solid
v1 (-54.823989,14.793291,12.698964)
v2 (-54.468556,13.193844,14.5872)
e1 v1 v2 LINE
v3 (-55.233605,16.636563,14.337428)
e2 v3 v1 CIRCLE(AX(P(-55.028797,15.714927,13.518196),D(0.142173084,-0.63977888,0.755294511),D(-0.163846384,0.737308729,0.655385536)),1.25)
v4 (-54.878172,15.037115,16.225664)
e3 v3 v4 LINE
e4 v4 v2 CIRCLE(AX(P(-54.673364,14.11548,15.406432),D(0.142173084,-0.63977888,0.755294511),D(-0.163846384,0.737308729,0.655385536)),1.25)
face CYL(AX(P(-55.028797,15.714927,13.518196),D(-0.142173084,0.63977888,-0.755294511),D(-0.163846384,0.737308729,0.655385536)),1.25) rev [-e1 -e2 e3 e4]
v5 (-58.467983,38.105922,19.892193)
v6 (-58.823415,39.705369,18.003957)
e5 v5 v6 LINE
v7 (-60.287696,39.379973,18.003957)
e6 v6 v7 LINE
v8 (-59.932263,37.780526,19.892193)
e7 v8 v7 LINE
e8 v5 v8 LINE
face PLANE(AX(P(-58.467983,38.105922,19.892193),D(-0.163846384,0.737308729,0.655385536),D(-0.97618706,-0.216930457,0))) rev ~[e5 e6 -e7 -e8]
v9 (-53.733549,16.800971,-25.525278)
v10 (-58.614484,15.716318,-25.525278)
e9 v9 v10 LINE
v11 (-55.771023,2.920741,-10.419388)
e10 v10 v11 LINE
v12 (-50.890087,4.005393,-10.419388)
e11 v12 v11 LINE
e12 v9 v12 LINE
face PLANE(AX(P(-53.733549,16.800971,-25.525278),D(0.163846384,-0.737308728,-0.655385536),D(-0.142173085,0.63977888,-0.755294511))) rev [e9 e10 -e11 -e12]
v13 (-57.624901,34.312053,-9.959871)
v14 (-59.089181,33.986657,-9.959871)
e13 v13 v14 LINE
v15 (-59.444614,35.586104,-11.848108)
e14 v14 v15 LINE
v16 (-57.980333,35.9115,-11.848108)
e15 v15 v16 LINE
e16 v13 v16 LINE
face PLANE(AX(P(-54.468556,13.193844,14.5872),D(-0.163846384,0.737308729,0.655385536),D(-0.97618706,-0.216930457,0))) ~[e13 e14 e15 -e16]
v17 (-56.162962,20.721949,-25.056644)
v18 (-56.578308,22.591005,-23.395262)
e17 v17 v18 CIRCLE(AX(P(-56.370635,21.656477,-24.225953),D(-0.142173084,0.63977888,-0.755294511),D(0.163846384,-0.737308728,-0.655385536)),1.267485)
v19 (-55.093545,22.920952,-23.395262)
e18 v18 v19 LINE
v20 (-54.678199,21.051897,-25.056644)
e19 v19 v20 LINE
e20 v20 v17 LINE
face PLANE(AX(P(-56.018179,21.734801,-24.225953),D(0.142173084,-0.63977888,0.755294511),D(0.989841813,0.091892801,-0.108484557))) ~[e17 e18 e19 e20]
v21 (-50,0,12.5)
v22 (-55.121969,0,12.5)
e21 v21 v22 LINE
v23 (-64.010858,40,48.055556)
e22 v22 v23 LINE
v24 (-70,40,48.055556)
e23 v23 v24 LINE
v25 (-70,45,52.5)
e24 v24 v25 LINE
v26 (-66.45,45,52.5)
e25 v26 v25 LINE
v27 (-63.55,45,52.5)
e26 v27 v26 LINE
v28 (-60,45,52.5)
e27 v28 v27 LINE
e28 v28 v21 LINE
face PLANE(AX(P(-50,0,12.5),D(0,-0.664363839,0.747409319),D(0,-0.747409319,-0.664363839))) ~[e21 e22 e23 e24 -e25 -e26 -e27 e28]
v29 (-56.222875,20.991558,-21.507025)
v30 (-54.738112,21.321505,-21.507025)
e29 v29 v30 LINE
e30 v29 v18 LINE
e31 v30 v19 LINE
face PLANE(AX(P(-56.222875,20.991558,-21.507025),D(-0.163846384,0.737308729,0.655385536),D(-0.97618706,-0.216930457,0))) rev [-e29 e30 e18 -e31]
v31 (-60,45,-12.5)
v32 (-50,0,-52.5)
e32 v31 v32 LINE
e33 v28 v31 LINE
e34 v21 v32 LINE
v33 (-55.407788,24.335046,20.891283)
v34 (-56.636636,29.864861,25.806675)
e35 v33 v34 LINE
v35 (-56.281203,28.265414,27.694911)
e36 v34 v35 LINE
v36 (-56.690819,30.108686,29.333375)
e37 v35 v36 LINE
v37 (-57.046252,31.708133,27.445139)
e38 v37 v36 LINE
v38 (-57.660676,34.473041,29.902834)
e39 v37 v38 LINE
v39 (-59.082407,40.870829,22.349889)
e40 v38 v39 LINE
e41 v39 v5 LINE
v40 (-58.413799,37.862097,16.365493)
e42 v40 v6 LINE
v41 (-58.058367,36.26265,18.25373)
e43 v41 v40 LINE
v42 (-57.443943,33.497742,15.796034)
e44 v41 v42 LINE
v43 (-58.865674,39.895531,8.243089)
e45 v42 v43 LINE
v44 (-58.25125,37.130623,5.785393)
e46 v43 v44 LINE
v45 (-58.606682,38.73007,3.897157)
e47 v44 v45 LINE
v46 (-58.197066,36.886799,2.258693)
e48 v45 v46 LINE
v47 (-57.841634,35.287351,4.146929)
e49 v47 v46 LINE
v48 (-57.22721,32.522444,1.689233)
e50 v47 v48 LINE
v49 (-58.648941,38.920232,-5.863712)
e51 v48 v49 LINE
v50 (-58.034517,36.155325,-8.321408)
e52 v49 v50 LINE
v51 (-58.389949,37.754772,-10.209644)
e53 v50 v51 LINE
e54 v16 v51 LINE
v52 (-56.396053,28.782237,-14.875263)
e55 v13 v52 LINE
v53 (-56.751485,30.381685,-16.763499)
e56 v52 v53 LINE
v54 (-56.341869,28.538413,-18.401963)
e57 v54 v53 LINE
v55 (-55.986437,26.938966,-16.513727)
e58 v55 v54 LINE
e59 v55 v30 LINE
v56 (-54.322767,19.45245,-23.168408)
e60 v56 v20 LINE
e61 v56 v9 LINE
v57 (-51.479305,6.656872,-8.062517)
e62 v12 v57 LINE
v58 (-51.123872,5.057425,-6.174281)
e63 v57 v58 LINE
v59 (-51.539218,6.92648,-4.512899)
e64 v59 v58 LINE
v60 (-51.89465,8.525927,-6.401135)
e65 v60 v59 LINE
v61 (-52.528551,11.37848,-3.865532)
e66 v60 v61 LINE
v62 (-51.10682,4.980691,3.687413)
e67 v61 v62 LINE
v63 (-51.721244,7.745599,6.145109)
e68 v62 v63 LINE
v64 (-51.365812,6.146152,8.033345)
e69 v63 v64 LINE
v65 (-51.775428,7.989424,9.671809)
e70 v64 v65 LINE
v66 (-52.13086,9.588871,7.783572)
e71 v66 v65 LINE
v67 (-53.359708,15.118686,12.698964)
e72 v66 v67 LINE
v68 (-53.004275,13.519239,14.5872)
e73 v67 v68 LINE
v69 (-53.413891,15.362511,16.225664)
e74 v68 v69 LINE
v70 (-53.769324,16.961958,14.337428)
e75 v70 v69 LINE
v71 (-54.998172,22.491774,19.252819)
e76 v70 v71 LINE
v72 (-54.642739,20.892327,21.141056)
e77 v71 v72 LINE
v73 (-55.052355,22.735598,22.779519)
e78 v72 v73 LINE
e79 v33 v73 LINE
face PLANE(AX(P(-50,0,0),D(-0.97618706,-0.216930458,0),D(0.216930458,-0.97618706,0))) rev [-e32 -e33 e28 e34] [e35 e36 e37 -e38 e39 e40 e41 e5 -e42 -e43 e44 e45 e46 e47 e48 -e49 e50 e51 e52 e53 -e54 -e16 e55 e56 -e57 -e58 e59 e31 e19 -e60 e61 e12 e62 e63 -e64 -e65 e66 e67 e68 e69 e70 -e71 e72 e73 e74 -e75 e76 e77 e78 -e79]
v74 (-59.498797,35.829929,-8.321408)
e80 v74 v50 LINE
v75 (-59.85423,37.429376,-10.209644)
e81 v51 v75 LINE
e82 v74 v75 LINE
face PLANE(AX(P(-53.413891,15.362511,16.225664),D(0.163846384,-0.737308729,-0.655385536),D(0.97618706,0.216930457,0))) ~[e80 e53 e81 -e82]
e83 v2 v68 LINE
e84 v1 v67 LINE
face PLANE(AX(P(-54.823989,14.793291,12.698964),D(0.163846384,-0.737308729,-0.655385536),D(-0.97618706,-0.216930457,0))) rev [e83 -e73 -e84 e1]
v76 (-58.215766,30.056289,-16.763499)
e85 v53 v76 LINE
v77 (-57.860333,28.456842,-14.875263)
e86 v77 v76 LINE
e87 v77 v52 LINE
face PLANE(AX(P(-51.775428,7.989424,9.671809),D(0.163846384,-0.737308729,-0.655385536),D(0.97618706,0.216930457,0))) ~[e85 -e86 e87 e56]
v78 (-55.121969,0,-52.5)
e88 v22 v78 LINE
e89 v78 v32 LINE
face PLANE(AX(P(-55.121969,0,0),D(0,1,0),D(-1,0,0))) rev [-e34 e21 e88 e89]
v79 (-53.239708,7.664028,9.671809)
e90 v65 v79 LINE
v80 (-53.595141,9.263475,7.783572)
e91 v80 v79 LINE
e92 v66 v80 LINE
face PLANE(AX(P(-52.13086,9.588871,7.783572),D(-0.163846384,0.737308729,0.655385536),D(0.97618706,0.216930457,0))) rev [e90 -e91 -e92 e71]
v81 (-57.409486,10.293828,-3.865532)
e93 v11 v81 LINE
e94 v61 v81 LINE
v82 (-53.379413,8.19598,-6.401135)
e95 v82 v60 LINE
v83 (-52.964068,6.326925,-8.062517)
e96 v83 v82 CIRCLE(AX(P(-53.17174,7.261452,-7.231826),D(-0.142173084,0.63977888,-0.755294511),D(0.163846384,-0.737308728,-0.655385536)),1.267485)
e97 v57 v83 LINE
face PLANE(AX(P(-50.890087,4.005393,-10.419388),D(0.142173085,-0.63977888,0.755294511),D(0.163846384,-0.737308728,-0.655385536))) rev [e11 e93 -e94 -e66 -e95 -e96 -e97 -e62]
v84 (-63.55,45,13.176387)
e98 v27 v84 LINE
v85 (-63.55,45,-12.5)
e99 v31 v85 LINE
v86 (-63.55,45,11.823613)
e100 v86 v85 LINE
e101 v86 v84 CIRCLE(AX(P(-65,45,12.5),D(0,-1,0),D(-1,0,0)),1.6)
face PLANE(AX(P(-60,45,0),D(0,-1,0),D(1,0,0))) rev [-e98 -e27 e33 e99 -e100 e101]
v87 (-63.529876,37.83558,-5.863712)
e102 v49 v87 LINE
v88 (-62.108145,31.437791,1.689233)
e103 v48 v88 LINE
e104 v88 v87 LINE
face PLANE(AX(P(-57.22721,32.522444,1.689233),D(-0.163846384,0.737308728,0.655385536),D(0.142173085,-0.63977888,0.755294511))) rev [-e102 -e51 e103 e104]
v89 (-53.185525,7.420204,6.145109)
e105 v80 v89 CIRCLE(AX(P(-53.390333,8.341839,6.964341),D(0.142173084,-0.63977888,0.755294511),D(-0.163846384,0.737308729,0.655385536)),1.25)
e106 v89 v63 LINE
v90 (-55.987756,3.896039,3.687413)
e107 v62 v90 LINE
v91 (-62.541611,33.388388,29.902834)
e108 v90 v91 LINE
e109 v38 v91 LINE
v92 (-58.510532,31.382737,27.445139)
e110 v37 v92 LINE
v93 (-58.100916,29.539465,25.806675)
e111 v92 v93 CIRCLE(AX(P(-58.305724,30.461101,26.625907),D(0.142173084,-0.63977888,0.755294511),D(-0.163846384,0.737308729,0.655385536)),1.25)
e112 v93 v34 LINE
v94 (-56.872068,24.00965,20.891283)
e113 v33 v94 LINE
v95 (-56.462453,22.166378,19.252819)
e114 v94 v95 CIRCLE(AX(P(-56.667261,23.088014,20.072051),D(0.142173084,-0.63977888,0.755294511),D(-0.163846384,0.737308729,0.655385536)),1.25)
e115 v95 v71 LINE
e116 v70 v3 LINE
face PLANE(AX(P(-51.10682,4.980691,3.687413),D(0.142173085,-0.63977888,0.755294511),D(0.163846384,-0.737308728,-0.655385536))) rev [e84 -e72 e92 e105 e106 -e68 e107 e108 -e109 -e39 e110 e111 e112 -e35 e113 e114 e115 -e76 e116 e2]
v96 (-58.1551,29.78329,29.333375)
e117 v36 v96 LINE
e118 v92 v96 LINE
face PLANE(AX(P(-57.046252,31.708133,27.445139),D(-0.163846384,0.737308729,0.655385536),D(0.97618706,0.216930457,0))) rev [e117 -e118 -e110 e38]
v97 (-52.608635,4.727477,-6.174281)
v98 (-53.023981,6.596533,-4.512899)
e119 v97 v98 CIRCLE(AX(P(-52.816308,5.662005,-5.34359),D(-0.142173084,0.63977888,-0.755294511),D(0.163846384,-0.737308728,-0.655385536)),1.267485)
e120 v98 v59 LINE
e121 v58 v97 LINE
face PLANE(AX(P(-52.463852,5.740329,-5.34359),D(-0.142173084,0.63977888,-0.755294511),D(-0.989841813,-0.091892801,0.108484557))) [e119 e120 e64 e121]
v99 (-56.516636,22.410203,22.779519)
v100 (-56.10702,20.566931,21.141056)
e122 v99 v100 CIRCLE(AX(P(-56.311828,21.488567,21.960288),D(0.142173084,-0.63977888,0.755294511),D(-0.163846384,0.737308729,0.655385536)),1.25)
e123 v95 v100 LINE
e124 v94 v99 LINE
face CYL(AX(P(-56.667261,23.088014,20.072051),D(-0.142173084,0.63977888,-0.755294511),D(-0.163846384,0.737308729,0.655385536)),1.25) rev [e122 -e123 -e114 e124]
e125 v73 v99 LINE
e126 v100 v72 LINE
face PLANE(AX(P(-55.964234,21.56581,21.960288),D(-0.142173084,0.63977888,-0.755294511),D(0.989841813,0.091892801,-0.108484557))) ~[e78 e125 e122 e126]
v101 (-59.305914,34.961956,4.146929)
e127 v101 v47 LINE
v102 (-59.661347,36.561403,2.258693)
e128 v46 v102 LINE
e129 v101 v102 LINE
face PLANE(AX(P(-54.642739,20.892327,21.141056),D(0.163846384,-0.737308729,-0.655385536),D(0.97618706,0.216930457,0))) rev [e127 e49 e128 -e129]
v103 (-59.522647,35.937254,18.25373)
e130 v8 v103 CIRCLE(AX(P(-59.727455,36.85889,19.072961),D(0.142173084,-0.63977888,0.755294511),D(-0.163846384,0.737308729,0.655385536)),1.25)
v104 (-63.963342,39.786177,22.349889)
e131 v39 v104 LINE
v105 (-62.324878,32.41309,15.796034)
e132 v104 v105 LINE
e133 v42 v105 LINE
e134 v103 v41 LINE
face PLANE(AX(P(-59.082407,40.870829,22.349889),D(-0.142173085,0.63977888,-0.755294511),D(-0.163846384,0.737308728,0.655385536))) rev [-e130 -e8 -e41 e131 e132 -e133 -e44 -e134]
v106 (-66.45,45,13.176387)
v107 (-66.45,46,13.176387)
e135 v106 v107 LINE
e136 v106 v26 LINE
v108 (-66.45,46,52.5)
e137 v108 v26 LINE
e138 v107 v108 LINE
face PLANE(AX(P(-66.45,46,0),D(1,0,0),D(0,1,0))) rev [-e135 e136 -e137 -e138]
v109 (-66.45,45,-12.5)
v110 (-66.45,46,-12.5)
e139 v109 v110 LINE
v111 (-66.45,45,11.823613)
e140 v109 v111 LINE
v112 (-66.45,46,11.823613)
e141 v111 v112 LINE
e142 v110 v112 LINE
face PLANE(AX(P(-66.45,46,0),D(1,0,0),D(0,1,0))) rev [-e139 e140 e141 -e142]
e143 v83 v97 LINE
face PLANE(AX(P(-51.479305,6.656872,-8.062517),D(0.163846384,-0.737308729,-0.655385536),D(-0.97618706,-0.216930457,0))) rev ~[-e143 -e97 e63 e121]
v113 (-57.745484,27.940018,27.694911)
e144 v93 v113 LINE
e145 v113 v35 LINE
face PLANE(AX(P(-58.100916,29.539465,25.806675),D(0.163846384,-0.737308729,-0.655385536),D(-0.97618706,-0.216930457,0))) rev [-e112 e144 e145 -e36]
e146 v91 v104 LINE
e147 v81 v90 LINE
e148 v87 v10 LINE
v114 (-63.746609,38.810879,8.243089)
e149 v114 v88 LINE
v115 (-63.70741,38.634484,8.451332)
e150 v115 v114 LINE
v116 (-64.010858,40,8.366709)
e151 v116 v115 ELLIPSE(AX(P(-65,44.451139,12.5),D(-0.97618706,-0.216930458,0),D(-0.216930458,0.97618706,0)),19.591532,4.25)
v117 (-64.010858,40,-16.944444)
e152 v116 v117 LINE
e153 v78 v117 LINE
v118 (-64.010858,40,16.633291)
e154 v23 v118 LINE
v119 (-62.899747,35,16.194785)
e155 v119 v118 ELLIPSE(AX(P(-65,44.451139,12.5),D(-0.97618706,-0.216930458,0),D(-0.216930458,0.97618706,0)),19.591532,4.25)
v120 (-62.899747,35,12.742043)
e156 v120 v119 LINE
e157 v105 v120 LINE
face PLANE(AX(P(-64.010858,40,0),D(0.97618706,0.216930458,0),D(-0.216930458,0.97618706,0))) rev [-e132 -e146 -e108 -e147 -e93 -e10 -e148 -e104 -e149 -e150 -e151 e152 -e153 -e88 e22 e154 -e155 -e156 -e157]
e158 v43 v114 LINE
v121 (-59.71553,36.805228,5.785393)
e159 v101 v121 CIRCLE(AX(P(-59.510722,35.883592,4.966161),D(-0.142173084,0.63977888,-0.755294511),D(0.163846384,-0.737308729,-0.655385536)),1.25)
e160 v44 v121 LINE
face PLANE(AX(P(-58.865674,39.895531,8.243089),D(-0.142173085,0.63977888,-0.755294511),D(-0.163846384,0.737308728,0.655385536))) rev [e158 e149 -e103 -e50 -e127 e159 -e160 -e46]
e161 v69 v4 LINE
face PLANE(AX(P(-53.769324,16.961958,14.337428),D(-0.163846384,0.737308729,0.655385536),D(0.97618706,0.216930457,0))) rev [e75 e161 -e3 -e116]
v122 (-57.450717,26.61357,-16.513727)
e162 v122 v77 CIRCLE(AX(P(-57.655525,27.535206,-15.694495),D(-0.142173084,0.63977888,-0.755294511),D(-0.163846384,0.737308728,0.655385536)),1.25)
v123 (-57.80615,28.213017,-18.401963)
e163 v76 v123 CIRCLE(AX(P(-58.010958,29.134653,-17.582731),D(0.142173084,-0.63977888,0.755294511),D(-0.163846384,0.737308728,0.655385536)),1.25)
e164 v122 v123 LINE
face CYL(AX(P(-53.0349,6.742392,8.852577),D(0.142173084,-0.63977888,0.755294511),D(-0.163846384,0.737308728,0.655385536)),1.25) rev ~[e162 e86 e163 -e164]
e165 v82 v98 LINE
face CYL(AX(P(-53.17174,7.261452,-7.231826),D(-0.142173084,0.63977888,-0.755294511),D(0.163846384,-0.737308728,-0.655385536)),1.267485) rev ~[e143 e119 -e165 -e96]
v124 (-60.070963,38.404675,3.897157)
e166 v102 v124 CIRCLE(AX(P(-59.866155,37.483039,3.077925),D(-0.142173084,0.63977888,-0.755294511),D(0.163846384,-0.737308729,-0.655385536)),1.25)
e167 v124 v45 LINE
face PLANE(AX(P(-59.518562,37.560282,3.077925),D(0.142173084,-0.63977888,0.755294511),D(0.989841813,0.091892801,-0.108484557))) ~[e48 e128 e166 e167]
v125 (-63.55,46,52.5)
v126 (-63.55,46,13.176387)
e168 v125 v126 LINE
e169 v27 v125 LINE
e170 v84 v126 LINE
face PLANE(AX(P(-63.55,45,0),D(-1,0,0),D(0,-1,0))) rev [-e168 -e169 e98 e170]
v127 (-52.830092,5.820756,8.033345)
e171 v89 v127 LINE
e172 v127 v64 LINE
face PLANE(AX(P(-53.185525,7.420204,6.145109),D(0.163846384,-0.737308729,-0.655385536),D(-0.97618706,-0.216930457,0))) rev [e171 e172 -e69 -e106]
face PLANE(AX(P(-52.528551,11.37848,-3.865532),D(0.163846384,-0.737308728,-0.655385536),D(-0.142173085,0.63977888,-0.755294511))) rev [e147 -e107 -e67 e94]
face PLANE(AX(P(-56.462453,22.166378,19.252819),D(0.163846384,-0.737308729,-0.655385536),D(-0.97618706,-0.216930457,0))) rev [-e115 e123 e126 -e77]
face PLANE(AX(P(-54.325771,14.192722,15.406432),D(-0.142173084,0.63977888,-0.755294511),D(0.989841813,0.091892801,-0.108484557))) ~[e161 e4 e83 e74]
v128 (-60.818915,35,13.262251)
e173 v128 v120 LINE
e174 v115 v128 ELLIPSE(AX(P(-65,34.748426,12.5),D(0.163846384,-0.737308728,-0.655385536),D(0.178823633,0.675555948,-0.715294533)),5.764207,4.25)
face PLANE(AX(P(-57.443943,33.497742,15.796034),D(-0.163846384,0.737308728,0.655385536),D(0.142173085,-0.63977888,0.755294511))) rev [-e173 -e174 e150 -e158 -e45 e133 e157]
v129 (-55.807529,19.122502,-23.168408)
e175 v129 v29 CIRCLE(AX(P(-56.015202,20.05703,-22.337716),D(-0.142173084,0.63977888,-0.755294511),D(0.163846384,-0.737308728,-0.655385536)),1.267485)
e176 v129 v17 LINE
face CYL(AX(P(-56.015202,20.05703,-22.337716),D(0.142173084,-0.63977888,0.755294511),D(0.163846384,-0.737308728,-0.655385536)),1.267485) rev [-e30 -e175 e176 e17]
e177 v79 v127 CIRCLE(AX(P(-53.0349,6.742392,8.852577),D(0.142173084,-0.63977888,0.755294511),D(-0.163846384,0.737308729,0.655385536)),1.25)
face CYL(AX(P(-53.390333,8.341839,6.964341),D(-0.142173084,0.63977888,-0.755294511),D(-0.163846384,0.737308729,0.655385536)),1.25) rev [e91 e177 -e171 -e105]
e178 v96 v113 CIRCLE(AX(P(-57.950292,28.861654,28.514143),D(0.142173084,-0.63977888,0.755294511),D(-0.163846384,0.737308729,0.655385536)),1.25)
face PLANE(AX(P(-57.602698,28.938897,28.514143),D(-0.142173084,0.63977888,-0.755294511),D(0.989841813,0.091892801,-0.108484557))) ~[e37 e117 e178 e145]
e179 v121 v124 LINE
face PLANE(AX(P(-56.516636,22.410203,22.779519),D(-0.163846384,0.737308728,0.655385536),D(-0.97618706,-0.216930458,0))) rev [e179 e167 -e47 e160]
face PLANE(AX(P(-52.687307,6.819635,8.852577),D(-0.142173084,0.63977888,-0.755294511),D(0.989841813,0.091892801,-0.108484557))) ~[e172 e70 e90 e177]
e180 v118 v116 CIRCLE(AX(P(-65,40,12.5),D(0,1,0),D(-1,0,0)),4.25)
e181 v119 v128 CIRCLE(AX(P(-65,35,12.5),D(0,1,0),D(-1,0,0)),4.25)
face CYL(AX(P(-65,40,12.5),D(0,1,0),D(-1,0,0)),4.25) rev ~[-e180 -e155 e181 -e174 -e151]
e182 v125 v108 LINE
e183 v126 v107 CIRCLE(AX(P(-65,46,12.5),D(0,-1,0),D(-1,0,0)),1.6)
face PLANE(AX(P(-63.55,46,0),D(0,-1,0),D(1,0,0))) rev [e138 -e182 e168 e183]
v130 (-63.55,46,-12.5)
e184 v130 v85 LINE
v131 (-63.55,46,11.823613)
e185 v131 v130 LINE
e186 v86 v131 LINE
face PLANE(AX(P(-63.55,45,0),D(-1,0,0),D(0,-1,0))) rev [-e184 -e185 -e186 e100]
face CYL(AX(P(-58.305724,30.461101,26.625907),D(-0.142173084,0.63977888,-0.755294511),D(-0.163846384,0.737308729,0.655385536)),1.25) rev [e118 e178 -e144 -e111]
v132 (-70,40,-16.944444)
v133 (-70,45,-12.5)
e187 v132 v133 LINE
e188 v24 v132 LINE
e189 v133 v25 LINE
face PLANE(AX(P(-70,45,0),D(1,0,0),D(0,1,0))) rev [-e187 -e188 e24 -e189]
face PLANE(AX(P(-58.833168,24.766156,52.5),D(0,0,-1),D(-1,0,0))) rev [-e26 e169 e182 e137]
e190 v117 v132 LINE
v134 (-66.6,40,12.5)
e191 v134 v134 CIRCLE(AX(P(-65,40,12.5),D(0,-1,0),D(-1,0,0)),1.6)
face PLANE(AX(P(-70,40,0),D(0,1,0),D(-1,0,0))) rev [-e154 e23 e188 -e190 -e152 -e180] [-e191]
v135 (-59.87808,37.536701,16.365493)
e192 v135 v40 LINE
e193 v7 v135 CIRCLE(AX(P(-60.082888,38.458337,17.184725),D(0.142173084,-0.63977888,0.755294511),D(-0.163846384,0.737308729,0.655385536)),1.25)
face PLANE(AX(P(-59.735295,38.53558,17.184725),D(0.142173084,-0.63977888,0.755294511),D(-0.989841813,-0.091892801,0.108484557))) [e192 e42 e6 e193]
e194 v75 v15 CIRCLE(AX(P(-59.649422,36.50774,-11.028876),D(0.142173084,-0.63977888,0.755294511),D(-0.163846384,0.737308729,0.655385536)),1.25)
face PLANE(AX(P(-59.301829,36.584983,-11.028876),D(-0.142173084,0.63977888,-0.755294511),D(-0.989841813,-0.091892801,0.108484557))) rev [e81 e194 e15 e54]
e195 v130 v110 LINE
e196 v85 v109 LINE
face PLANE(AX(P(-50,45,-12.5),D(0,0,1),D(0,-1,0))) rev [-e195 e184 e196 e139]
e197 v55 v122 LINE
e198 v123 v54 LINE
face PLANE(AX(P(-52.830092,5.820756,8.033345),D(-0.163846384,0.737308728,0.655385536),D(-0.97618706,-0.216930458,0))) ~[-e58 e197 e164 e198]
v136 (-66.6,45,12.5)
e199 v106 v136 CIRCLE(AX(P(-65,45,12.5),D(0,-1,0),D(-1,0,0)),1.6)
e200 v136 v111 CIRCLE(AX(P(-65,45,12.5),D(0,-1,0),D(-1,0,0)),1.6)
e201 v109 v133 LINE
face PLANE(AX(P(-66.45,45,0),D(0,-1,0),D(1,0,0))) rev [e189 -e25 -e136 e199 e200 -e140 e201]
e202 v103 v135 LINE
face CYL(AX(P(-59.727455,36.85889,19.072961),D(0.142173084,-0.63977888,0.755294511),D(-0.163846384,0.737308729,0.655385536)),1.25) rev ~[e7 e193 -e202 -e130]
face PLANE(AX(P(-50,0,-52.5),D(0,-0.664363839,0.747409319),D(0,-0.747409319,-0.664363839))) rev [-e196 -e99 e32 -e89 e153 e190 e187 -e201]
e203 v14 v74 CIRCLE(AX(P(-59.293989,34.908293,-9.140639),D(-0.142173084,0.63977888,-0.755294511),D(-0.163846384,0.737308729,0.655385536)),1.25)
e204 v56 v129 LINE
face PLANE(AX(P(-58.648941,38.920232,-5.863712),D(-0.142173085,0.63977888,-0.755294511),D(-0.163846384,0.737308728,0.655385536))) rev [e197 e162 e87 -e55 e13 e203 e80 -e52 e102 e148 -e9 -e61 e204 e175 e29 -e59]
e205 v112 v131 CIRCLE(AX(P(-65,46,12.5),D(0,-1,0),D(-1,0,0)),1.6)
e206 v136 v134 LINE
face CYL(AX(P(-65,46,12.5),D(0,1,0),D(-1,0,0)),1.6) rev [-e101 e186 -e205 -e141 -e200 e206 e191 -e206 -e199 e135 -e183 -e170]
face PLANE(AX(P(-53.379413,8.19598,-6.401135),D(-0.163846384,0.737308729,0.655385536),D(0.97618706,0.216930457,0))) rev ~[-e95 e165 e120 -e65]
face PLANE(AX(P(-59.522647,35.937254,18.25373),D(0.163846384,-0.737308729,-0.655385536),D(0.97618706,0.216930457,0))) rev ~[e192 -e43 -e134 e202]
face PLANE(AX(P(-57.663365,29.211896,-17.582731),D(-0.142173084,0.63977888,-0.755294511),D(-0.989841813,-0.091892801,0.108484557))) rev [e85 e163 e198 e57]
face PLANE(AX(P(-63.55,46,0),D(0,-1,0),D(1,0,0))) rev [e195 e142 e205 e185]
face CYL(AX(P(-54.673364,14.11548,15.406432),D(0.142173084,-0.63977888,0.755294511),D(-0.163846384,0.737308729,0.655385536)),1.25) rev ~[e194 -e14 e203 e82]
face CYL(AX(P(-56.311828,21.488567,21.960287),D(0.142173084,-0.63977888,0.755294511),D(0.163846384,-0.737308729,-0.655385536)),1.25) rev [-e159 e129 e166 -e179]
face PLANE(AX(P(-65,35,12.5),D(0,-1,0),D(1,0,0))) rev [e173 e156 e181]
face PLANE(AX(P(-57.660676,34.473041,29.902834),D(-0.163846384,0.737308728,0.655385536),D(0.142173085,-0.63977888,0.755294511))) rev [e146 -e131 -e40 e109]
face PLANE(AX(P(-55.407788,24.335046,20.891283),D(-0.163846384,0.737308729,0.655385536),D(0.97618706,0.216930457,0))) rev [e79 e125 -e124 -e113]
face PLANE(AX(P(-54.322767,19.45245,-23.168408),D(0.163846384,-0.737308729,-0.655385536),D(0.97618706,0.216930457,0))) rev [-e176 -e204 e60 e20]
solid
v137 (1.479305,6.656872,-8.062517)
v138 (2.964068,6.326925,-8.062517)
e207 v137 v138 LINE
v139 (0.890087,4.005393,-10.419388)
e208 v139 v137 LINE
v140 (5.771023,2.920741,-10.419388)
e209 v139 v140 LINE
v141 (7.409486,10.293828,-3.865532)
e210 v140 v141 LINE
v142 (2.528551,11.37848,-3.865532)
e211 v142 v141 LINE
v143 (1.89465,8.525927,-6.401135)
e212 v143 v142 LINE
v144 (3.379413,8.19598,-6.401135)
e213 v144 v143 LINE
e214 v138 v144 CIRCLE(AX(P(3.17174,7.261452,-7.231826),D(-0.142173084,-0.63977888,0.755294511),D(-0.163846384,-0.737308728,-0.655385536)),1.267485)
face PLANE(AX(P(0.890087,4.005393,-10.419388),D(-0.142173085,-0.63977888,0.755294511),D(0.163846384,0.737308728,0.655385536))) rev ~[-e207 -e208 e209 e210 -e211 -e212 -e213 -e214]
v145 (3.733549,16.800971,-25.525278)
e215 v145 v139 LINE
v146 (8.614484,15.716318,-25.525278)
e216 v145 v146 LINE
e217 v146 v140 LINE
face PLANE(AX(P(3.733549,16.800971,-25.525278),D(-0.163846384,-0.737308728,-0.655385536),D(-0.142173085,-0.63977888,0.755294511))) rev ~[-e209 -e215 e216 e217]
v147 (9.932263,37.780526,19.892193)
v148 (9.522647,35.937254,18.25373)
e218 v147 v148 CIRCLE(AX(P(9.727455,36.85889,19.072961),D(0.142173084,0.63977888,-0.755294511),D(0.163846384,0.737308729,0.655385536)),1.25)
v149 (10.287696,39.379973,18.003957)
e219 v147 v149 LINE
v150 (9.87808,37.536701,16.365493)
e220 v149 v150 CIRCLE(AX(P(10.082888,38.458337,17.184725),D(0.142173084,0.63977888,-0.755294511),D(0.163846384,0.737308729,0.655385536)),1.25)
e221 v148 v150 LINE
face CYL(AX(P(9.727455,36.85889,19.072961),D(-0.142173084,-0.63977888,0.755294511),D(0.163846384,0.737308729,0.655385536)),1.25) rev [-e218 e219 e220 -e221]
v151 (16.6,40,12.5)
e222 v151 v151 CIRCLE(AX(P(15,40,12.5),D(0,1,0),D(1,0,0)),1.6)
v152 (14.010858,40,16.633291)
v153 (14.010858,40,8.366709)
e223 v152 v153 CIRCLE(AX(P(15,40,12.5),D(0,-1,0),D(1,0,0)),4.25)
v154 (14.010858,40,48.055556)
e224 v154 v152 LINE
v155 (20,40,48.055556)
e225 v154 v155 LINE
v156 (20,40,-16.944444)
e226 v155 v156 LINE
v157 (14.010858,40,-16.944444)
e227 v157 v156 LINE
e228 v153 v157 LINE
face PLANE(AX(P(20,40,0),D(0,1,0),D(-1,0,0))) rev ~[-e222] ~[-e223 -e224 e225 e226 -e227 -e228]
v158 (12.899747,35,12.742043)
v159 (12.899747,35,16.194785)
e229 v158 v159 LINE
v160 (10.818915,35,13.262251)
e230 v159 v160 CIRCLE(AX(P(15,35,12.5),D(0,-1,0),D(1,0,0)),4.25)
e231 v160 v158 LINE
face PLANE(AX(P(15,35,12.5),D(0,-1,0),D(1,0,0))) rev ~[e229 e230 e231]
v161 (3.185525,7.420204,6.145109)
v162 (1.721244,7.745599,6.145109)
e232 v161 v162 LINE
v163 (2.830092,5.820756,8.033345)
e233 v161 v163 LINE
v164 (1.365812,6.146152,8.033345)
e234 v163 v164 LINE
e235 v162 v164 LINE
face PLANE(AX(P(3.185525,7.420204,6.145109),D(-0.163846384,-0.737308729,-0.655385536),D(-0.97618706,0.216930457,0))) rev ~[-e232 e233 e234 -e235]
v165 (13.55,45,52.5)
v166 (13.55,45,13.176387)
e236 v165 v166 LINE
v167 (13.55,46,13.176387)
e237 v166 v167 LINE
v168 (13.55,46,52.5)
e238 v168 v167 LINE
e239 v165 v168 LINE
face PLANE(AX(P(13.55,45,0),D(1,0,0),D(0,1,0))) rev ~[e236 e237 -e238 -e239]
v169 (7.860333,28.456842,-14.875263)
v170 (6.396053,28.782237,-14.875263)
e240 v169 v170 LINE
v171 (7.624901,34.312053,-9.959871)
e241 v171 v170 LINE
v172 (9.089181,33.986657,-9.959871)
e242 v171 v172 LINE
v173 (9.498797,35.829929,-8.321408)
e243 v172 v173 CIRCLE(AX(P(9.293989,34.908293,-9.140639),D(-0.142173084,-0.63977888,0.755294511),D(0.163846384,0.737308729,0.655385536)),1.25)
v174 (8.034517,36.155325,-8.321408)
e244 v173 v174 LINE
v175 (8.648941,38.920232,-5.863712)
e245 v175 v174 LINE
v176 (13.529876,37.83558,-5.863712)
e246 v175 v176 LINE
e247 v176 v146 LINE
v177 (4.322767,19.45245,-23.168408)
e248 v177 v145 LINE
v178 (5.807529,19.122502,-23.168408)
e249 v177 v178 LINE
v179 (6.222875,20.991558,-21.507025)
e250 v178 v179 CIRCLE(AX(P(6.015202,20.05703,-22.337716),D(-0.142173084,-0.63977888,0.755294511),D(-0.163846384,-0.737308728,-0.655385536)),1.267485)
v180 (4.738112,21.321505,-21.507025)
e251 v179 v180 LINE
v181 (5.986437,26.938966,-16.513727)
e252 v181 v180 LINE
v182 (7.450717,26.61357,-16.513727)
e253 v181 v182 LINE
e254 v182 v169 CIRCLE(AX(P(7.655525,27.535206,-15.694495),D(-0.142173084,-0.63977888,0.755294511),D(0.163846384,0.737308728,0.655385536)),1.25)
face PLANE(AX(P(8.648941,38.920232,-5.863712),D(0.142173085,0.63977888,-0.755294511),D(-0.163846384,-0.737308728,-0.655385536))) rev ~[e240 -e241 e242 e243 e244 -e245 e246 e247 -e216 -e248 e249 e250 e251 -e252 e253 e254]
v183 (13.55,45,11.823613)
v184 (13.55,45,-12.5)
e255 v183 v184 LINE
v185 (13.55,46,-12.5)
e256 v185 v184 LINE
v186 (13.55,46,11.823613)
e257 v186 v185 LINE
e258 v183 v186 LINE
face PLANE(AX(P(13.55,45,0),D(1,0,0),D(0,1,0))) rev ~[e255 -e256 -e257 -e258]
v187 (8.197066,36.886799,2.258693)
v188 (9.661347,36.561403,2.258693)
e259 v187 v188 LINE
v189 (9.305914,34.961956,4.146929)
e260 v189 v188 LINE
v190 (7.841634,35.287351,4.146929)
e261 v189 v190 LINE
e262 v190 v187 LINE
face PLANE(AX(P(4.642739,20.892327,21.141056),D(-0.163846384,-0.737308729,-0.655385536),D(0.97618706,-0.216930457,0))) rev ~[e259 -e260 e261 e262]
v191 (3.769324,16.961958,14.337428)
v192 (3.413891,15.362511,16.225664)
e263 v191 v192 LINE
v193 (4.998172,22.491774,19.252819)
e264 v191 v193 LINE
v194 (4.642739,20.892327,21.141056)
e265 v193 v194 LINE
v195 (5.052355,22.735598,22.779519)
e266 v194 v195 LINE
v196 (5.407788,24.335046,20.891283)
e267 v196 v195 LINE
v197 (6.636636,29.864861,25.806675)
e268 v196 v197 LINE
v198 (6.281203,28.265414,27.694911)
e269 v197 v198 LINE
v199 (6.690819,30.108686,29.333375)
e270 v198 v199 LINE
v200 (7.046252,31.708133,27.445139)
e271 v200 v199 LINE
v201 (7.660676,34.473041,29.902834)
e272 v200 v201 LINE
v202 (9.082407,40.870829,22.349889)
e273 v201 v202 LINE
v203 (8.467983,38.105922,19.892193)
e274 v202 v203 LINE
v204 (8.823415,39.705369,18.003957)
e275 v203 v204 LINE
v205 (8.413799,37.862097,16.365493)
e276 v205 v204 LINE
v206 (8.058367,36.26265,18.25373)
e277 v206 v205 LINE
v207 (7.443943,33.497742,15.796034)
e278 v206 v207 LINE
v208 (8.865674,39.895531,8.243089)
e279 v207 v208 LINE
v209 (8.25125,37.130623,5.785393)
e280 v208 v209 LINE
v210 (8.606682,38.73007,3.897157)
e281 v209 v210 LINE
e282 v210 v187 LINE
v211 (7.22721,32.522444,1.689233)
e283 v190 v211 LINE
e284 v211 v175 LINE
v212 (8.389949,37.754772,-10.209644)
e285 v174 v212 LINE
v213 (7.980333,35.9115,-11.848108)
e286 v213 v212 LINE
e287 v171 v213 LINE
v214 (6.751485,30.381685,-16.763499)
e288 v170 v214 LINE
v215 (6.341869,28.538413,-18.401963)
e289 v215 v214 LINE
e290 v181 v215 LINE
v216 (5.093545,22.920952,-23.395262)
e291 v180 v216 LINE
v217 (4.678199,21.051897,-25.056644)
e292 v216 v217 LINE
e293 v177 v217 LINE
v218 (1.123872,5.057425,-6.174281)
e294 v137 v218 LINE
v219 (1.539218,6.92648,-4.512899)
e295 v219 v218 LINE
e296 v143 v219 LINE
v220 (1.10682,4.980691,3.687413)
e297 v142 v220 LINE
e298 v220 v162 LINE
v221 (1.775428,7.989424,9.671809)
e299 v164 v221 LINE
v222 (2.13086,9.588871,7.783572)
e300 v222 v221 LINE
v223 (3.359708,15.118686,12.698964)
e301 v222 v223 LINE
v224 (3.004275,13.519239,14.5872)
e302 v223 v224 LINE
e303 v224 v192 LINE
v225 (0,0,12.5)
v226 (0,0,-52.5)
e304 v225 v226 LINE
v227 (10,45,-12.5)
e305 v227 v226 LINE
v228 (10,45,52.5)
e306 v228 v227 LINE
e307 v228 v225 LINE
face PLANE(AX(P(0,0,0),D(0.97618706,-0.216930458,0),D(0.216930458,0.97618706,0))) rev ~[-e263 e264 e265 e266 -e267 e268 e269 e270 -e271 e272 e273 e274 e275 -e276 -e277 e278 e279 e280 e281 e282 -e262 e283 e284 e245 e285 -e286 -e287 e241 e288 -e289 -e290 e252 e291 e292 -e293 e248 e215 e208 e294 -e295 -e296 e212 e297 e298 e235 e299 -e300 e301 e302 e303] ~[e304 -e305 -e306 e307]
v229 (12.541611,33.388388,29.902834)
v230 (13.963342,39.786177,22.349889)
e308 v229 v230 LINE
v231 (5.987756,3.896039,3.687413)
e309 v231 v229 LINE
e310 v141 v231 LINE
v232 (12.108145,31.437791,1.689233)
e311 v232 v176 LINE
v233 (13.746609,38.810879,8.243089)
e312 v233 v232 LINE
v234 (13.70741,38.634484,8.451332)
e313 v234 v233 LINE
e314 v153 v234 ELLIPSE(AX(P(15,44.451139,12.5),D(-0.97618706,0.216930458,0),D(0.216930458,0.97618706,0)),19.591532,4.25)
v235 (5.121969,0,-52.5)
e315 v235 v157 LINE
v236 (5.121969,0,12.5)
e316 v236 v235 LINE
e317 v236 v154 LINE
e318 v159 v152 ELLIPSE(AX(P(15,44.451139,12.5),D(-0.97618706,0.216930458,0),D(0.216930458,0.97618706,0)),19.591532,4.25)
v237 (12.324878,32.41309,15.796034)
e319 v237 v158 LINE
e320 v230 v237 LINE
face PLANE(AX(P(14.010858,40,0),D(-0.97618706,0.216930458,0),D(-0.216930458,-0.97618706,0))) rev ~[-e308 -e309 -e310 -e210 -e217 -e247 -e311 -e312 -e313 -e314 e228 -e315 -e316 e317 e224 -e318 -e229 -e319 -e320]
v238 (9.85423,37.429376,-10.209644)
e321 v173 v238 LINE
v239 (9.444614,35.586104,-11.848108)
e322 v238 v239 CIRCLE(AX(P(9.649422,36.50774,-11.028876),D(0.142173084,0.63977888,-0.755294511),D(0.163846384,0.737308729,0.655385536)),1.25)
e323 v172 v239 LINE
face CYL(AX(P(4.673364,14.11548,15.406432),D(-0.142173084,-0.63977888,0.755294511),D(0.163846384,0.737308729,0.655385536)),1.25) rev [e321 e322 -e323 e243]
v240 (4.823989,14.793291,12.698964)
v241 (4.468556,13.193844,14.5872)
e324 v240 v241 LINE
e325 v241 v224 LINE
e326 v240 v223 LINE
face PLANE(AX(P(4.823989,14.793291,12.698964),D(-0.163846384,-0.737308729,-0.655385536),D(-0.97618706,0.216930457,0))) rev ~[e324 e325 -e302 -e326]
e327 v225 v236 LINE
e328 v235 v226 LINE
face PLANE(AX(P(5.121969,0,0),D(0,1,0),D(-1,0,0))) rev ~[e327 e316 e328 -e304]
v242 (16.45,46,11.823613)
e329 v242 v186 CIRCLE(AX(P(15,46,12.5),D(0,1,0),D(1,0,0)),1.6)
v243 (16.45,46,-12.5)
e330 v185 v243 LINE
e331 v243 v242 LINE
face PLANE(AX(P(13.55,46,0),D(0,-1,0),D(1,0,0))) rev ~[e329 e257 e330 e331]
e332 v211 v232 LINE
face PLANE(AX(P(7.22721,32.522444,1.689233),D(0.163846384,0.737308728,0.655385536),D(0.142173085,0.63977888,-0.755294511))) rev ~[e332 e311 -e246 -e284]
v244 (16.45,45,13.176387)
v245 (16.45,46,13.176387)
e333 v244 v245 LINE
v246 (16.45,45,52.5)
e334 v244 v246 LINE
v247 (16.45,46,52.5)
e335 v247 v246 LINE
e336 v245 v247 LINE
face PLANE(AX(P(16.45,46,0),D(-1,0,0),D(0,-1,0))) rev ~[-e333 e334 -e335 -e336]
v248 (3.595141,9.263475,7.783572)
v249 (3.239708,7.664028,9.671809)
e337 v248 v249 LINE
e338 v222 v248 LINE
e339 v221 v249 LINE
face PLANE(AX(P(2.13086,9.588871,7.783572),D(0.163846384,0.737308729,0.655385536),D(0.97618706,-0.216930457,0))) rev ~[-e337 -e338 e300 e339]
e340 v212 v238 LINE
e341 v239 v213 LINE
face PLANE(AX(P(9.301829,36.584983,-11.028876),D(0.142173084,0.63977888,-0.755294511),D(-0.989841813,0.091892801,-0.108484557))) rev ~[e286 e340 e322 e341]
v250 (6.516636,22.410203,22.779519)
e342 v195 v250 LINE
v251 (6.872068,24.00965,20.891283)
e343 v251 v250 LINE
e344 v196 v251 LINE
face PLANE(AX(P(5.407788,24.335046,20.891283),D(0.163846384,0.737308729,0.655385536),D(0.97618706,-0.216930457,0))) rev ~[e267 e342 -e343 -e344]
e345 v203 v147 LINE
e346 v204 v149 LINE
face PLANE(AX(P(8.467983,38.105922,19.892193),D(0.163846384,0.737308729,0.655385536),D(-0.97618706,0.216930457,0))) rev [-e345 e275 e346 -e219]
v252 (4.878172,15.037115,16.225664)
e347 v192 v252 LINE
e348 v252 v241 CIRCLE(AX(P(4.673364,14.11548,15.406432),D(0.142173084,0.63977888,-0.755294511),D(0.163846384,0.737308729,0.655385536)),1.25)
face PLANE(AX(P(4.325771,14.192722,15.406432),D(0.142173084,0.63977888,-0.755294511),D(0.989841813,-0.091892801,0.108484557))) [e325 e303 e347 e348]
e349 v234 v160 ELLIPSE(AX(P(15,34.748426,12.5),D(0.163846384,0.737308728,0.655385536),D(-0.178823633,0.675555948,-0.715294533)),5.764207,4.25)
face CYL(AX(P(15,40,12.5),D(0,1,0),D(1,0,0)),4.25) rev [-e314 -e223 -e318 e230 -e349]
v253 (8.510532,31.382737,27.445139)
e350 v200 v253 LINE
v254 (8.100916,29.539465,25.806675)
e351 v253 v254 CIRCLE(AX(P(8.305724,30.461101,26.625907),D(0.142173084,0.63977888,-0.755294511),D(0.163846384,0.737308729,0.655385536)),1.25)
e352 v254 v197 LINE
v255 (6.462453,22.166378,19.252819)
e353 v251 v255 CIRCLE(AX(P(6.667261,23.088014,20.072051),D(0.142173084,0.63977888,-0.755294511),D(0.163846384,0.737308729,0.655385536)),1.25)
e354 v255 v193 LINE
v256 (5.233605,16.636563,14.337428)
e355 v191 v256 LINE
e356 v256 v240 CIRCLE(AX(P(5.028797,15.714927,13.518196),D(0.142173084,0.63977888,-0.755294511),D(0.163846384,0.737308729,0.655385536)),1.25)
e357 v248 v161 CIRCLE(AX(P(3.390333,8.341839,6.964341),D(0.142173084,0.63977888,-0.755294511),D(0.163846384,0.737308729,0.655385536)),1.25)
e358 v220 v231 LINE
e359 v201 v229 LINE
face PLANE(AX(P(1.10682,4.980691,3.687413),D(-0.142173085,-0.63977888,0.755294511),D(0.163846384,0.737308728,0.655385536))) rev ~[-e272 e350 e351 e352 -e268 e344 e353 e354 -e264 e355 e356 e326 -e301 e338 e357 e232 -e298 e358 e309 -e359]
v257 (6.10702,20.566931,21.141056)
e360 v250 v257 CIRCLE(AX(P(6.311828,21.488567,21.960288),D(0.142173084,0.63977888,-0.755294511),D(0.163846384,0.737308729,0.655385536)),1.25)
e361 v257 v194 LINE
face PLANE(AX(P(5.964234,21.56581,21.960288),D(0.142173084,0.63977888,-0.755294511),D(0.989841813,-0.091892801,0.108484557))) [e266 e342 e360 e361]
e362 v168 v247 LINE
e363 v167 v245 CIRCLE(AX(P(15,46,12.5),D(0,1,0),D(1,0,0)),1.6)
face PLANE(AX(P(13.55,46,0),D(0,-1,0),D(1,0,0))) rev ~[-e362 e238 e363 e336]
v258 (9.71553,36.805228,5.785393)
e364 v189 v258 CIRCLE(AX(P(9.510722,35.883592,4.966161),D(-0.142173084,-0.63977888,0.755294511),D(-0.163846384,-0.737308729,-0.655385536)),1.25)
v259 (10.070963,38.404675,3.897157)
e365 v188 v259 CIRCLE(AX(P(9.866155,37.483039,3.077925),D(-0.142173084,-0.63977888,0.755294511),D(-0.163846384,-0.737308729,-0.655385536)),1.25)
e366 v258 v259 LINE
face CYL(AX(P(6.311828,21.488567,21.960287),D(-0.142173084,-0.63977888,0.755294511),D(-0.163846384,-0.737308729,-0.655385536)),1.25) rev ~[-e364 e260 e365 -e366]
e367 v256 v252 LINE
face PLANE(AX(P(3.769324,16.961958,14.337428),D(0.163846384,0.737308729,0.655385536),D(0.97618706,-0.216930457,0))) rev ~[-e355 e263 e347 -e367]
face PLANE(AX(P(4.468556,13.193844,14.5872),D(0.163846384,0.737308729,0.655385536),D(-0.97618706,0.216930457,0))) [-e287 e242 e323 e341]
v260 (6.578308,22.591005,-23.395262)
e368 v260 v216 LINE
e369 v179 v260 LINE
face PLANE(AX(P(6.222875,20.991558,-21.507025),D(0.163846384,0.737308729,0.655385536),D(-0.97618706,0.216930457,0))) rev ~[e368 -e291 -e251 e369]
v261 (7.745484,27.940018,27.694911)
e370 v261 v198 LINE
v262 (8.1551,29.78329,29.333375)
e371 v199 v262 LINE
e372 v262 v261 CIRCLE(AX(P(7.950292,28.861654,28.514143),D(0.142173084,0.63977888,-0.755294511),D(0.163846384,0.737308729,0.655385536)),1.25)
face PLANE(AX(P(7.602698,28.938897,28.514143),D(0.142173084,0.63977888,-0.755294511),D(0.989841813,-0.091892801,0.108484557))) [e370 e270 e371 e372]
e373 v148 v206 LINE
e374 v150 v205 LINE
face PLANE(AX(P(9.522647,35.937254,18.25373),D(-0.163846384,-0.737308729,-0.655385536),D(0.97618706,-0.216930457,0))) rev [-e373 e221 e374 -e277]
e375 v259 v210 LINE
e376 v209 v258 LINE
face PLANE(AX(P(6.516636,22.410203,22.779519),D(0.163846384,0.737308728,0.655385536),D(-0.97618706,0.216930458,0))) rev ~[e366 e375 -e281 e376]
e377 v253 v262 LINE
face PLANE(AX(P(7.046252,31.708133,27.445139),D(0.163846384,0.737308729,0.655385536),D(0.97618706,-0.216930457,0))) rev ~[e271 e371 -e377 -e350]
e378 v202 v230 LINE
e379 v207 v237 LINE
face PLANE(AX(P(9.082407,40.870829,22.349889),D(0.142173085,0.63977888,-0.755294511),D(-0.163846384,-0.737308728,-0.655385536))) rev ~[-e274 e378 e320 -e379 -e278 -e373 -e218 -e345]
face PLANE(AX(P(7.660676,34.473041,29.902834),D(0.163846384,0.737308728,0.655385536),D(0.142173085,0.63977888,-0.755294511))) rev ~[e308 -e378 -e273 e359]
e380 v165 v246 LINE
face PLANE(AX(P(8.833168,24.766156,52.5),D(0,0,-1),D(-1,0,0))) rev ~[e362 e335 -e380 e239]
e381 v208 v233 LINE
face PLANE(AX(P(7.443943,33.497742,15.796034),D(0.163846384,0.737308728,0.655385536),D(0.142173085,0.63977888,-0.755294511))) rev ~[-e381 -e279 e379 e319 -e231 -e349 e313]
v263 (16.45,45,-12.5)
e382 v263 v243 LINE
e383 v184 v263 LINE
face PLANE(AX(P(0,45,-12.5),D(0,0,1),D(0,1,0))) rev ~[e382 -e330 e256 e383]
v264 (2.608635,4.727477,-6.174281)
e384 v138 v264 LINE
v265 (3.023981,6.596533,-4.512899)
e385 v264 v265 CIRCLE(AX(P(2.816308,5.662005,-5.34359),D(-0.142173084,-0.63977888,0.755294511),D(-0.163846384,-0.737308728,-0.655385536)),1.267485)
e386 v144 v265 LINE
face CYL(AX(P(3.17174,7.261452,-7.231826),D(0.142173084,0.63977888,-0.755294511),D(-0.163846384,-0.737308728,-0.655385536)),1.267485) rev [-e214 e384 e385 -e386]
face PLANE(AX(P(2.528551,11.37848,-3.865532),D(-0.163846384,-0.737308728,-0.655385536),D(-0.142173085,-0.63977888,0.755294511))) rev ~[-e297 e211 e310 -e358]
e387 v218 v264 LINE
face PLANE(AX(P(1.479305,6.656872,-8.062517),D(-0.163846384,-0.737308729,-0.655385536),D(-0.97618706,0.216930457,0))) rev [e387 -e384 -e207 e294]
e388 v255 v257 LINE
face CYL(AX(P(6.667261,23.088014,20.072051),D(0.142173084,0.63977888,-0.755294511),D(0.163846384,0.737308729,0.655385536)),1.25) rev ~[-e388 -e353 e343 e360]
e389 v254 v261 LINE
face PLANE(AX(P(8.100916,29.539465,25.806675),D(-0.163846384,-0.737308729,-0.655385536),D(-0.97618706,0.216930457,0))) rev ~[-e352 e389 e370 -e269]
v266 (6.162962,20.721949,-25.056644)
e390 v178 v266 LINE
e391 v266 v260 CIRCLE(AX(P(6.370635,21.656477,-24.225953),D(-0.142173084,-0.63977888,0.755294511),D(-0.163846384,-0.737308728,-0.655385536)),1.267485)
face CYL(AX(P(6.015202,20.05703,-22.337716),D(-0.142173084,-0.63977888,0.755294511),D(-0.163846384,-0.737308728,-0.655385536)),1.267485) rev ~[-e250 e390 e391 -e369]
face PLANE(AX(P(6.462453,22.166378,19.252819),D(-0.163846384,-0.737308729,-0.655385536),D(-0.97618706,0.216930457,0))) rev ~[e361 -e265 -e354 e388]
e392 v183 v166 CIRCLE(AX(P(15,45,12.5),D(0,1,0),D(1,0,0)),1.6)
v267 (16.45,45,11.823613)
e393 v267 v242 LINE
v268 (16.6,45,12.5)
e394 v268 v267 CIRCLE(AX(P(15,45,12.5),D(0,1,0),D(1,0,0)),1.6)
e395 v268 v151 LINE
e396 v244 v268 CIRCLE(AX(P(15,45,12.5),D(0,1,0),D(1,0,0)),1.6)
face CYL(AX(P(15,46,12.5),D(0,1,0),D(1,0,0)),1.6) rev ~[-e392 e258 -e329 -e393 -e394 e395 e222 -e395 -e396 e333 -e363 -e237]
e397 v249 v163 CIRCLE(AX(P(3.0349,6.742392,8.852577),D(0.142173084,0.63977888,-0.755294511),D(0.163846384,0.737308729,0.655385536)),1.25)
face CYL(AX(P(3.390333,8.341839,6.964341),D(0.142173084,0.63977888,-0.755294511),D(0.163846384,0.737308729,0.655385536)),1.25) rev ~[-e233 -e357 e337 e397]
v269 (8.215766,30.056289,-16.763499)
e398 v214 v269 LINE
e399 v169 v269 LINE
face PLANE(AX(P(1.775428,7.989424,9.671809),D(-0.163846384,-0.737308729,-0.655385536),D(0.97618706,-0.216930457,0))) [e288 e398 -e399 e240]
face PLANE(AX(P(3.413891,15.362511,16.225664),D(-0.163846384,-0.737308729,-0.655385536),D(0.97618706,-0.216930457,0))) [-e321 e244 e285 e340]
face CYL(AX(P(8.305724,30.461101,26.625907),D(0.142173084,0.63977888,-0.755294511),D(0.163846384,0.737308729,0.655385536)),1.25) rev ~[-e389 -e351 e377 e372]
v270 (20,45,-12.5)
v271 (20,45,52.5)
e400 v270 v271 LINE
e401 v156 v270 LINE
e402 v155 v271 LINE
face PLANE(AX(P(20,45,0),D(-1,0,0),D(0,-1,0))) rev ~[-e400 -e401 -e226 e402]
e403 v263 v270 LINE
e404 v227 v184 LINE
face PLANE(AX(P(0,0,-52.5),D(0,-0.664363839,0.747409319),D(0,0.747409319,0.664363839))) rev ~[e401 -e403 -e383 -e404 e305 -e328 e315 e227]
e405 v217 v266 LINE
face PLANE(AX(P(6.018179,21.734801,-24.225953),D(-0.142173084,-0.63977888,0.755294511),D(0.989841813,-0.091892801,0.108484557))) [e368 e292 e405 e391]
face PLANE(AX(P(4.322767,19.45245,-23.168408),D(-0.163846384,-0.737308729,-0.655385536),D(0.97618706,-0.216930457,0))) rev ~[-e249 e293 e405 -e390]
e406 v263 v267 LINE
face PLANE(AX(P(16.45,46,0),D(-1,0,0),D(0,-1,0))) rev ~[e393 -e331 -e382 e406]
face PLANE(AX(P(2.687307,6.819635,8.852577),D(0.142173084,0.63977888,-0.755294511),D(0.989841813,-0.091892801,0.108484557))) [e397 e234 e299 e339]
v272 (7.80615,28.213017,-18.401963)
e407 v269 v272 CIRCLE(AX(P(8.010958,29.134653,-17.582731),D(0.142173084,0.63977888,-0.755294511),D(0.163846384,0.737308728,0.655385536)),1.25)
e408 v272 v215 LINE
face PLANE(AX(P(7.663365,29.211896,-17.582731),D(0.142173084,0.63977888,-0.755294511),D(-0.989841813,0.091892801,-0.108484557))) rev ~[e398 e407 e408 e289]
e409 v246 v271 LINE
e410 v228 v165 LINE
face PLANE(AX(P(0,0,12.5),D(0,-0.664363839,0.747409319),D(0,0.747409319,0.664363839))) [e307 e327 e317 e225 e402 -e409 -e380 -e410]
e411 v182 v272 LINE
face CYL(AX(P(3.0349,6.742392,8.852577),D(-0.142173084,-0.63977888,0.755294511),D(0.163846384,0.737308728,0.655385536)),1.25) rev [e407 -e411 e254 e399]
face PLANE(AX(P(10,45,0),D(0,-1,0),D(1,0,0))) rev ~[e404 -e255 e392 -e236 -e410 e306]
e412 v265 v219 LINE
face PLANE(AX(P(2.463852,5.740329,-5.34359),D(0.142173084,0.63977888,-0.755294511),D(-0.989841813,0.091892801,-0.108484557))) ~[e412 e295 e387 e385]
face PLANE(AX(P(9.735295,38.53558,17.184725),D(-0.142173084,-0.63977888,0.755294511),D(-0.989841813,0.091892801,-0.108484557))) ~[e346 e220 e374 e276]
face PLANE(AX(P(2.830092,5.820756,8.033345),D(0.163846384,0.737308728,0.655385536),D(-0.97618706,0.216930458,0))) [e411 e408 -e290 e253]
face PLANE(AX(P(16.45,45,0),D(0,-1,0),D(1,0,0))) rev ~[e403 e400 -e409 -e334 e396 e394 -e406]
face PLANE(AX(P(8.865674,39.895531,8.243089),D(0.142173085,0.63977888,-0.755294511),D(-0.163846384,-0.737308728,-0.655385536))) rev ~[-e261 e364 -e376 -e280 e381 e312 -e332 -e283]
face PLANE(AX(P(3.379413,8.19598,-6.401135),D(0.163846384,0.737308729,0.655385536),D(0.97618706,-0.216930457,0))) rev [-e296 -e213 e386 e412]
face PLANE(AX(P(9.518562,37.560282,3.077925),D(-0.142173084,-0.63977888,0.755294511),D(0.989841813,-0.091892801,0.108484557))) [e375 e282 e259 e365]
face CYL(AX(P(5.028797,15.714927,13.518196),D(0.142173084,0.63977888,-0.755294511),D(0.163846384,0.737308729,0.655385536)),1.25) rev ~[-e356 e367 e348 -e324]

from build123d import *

# Parameters (mm, degrees)
MAIN_DEPTH               = 52.5
SKETCH3_R                = 1.6
MAKERBEAMFIXHOLES_DEPTH  = 47
SIDECUT_DEPTH            = 21
SIDECUT_DEPTH_BACK       = 1
CENTRALCUT_DEPTH         = 10
ROLLERSUPPORTHOLES_DEPTH = 2.5
LPATTERN1_COUNT          = 4
LPATTERN1_PITCH          = 10
CUT_EXTRUDE1_DEPTH       = 25
CUT_EXTRUDE2_DEPTH       = 35
CUT_EXTRUDE3_DEPTH       = 35
CUT_EXTRUDE4_DEPTH       = 2.5
SKETCH10_R               = 4.25
CUT_EXTRUDE5_DEPTH       = 5


with BuildPart() as part:
    # Sketch1 → Main (new body, symmetric)
    with BuildSketch(Plane.XY):
        Polygon((20, 45), (20, 40), (14.010858032, 40), (5.121969143, 0), (0, 0), (10, 45), (13.55, 45), (13.55, 46), (16.45, 46), (16.45, 45), align=None)
    extrude(amount=MAIN_DEPTH, both=True)

    # Sketch3 → MakerBeamFixHoles (cut, through all)
    with BuildSketch(Plane(origin=(0, 46, 0), x_dir=(1, 0, 0), z_dir=(0, 1, 0))):
        with Locations((15, -12.5)):
            Circle(SKETCH3_R)
    extrude(amount=-MAKERBEAMFIXHOLES_DEPTH, mode=Mode.SUBTRACT)

    # Sketch2 → SideCut (cut, two sides)
    with BuildSketch(Plane(origin=(0, 40.615528128, 0), x_dir=(0, 0, 1), z_dir=(1, 0, 0))) as sidecut_sk:
        Polygon((-52.5, 40.615528128), (-12.5, -4.384471872), (-12.5, -5.384471872), (-52.5, -5.384471872), align=None)
        Polygon((52.5, -4.384471872), (52.5, 40.615528128), (12.5, 40.615528128), align=None)
    extrude(amount=SIDECUT_DEPTH, mode=Mode.SUBTRACT)
    extrude(sidecut_sk.sketch, amount=-SIDECUT_DEPTH_BACK, mode=Mode.SUBTRACT)

    # Sketch5 → CentralCut (cut)
    with BuildSketch(Plane(origin=(0, 0, 0), x_dir=(0, 0, 1), z_dir=(-0.97618706, 0.216930458, 0))):
        Polygon((22.349889157, 41.867825412), (15.796033792, 34.3148803), (8.24308868, 40.868735664), (1.689233316, 33.315790552), (-5.863711796, 39.869645916), (-25.525277888, 17.21081058), (-10.419387664, 4.103099851), (-3.8655323, 11.656044963), (3.687412812, 5.102189599), (29.902834269, 35.313970048), align=None)
    extrude(amount=-CENTRALCUT_DEPTH, mode=Mode.SUBTRACT)

    # Sketch4 → RollerSupportHoles (cut)
    with BuildSketch(Plane(origin=(0.079448965, 7.857631633, 5.930962816), x_dir=(-0.989841813, 0.091892801, -0.108484557), z_dir=(-0.142173084, -0.63977888, 0.755294511))):
        with BuildLine():
            Line((-6.624479528, -29.639079578), (-7.038299145, -32.104592369))
            Line((-7.038299145, -32.104592369), (-8.51760682, -31.856300599))
            ThreePointArc((-8.51760682, -31.856300599), (-9.543453407, -30.416634395), (-8.103787203, -29.390787808))
            Line((-8.103787203, -29.390787808), (-6.624479528, -29.639079578))
        make_face()
    rollersupportholes = extrude(amount=ROLLERSUPPORTHOLES_DEPTH, mode=Mode.SUBTRACT)

    # LPattern1: RollerSupportHoles ×4
    with Locations(*[Vector(-0.163846384, -0.737308728, -0.655385536) * (i * LPATTERN1_PITCH) for i in range(1, LPATTERN1_COUNT)]):
        add(rollersupportholes, mode=Mode.SUBTRACT)

    # Sketch6 → Cut-Extrude1 (cut)
    with BuildSketch(Plane(origin=(-0.275983746, -1.241926856, 1.466163649), x_dir=(-0.989841813, 0.091892801, -0.108484557), z_dir=(0.142173084, 0.63977888, -0.755294511))):
        with BuildLine():
            Line((-5.383020676, 32.071718622), (-4.969201058, 29.60620583))
            Line((-4.969201058, 29.60620583), (-6.448508733, 29.35791406))
            ThreePointArc((-6.448508733, 29.35791406), (-7.888174937, 30.383760647), (-6.86232835, 31.823426851))
            Line((-6.86232835, 31.823426851), (-5.383020676, 32.071718622))
        make_face()
    extrude(amount=CUT_EXTRUDE1_DEPTH, mode=Mode.SUBTRACT)

    # Mirror5: RollerSupportHoles across plane
    add(rollersupportholes.mirror(Plane(origin=(0.790314388, 3.556414745, -4.198545185), x_dir=(0.163846384, 0.737308728, 0.655385536), z_dir=(0.142173084, 0.63977888, -0.755294511))), mode=Mode.SUBTRACT)

    # Sketch7 → Cut-Extrude2 (cut)
    with BuildSketch(Plane(origin=(-0.275983746, -1.241926856, 1.466163649), x_dir=(-0.989841813, 0.091892801, -0.108484557), z_dir=(0.142173084, 0.63977888, -0.755294511))):
        with BuildLine():
            Line((-4.793230263, 19.495862895), (-3.313922588, 19.744154665))
            Line((-3.313922588, 19.744154665), (-3.727742206, 22.209667456))
            Line((-3.727742206, 22.209667456), (-5.20704988, 21.961375686))
            ThreePointArc((-5.20704988, 21.961375686), (-6.232896467, 20.521709481), (-4.793230263, 19.495862895))
        make_face()
    extrude(amount=CUT_EXTRUDE2_DEPTH, mode=Mode.SUBTRACT)

    # Sketch8 → Cut-Extrude3 (cut)
    with BuildSketch(Plane(origin=(-0.275983746, -1.241926856, 1.466163649), x_dir=(-0.989841813, 0.091892801, -0.108484557), z_dir=(0.142173084, 0.63977888, -0.755294511))):
        with BuildLine():
            Line((-3.137951793, 9.633811729), (-1.658644118, 9.8821035))
            Line((-1.658644118, 9.8821035), (-2.072463736, 12.347616291))
            Line((-2.072463736, 12.347616291), (-3.551771411, 12.099324521))
            ThreePointArc((-3.551771411, 12.099324521), (-4.577617998, 10.659658316), (-3.137951793, 9.633811729))
        make_face()
    extrude(amount=CUT_EXTRUDE3_DEPTH, mode=Mode.SUBTRACT)

    # Sketch9 → Cut-Extrude4 (cut)
    with BuildSketch(Plane(origin=(4.344641499, 19.550886747, -23.080907965), x_dir=(0.989841813, -0.091892801, 0.108484557), z_dir=(-0.142173084, -0.63977888, 0.755294511))):
        with BuildLine():
            Line((-0.02209942, -0.131667038), (1.47790058, -0.383431875))
            ThreePointArc((1.47790058, -0.383431875), (2.937704611, 0.656764094), (1.897508642, 2.116568125))
            Line((1.897508642, 2.116568125), (0.397508642, 2.368332962))
            Line((0.397508642, 2.368332962), (-0.02209942, -0.131667038))
        make_face()
    cut_extrude4 = extrude(amount=-CUT_EXTRUDE4_DEPTH, mode=Mode.SUBTRACT)

    # Sketch10 → Cut-Extrude5 (cut)
    with BuildSketch(Plane.XZ.offset(-40)):
        with Locations((15, 12.5)):
            Circle(SKETCH10_R)
    extrude(amount=CUT_EXTRUDE5_DEPTH, mode=Mode.SUBTRACT)

    # Mirror6: Cut-Extrude4 across plane
    add(cut_extrude4.mirror(Plane(origin=(18.62754414, 37.726226343, 8.24308868), x_dir=(0.163846384, 0.737308728, 0.655385536), z_dir=(0.142173084, 0.63977888, -0.755294511))), mode=Mode.SUBTRACT)


with BuildPart() as body_2:
    # Mirror4: mirrored copy
    add(part.part.mirror(Plane(origin=(-25, 0, 0), x_dir=(0, 0, 1), z_dir=(1, 0, 0))))


solid = Compound([part.part, body_2.part])
